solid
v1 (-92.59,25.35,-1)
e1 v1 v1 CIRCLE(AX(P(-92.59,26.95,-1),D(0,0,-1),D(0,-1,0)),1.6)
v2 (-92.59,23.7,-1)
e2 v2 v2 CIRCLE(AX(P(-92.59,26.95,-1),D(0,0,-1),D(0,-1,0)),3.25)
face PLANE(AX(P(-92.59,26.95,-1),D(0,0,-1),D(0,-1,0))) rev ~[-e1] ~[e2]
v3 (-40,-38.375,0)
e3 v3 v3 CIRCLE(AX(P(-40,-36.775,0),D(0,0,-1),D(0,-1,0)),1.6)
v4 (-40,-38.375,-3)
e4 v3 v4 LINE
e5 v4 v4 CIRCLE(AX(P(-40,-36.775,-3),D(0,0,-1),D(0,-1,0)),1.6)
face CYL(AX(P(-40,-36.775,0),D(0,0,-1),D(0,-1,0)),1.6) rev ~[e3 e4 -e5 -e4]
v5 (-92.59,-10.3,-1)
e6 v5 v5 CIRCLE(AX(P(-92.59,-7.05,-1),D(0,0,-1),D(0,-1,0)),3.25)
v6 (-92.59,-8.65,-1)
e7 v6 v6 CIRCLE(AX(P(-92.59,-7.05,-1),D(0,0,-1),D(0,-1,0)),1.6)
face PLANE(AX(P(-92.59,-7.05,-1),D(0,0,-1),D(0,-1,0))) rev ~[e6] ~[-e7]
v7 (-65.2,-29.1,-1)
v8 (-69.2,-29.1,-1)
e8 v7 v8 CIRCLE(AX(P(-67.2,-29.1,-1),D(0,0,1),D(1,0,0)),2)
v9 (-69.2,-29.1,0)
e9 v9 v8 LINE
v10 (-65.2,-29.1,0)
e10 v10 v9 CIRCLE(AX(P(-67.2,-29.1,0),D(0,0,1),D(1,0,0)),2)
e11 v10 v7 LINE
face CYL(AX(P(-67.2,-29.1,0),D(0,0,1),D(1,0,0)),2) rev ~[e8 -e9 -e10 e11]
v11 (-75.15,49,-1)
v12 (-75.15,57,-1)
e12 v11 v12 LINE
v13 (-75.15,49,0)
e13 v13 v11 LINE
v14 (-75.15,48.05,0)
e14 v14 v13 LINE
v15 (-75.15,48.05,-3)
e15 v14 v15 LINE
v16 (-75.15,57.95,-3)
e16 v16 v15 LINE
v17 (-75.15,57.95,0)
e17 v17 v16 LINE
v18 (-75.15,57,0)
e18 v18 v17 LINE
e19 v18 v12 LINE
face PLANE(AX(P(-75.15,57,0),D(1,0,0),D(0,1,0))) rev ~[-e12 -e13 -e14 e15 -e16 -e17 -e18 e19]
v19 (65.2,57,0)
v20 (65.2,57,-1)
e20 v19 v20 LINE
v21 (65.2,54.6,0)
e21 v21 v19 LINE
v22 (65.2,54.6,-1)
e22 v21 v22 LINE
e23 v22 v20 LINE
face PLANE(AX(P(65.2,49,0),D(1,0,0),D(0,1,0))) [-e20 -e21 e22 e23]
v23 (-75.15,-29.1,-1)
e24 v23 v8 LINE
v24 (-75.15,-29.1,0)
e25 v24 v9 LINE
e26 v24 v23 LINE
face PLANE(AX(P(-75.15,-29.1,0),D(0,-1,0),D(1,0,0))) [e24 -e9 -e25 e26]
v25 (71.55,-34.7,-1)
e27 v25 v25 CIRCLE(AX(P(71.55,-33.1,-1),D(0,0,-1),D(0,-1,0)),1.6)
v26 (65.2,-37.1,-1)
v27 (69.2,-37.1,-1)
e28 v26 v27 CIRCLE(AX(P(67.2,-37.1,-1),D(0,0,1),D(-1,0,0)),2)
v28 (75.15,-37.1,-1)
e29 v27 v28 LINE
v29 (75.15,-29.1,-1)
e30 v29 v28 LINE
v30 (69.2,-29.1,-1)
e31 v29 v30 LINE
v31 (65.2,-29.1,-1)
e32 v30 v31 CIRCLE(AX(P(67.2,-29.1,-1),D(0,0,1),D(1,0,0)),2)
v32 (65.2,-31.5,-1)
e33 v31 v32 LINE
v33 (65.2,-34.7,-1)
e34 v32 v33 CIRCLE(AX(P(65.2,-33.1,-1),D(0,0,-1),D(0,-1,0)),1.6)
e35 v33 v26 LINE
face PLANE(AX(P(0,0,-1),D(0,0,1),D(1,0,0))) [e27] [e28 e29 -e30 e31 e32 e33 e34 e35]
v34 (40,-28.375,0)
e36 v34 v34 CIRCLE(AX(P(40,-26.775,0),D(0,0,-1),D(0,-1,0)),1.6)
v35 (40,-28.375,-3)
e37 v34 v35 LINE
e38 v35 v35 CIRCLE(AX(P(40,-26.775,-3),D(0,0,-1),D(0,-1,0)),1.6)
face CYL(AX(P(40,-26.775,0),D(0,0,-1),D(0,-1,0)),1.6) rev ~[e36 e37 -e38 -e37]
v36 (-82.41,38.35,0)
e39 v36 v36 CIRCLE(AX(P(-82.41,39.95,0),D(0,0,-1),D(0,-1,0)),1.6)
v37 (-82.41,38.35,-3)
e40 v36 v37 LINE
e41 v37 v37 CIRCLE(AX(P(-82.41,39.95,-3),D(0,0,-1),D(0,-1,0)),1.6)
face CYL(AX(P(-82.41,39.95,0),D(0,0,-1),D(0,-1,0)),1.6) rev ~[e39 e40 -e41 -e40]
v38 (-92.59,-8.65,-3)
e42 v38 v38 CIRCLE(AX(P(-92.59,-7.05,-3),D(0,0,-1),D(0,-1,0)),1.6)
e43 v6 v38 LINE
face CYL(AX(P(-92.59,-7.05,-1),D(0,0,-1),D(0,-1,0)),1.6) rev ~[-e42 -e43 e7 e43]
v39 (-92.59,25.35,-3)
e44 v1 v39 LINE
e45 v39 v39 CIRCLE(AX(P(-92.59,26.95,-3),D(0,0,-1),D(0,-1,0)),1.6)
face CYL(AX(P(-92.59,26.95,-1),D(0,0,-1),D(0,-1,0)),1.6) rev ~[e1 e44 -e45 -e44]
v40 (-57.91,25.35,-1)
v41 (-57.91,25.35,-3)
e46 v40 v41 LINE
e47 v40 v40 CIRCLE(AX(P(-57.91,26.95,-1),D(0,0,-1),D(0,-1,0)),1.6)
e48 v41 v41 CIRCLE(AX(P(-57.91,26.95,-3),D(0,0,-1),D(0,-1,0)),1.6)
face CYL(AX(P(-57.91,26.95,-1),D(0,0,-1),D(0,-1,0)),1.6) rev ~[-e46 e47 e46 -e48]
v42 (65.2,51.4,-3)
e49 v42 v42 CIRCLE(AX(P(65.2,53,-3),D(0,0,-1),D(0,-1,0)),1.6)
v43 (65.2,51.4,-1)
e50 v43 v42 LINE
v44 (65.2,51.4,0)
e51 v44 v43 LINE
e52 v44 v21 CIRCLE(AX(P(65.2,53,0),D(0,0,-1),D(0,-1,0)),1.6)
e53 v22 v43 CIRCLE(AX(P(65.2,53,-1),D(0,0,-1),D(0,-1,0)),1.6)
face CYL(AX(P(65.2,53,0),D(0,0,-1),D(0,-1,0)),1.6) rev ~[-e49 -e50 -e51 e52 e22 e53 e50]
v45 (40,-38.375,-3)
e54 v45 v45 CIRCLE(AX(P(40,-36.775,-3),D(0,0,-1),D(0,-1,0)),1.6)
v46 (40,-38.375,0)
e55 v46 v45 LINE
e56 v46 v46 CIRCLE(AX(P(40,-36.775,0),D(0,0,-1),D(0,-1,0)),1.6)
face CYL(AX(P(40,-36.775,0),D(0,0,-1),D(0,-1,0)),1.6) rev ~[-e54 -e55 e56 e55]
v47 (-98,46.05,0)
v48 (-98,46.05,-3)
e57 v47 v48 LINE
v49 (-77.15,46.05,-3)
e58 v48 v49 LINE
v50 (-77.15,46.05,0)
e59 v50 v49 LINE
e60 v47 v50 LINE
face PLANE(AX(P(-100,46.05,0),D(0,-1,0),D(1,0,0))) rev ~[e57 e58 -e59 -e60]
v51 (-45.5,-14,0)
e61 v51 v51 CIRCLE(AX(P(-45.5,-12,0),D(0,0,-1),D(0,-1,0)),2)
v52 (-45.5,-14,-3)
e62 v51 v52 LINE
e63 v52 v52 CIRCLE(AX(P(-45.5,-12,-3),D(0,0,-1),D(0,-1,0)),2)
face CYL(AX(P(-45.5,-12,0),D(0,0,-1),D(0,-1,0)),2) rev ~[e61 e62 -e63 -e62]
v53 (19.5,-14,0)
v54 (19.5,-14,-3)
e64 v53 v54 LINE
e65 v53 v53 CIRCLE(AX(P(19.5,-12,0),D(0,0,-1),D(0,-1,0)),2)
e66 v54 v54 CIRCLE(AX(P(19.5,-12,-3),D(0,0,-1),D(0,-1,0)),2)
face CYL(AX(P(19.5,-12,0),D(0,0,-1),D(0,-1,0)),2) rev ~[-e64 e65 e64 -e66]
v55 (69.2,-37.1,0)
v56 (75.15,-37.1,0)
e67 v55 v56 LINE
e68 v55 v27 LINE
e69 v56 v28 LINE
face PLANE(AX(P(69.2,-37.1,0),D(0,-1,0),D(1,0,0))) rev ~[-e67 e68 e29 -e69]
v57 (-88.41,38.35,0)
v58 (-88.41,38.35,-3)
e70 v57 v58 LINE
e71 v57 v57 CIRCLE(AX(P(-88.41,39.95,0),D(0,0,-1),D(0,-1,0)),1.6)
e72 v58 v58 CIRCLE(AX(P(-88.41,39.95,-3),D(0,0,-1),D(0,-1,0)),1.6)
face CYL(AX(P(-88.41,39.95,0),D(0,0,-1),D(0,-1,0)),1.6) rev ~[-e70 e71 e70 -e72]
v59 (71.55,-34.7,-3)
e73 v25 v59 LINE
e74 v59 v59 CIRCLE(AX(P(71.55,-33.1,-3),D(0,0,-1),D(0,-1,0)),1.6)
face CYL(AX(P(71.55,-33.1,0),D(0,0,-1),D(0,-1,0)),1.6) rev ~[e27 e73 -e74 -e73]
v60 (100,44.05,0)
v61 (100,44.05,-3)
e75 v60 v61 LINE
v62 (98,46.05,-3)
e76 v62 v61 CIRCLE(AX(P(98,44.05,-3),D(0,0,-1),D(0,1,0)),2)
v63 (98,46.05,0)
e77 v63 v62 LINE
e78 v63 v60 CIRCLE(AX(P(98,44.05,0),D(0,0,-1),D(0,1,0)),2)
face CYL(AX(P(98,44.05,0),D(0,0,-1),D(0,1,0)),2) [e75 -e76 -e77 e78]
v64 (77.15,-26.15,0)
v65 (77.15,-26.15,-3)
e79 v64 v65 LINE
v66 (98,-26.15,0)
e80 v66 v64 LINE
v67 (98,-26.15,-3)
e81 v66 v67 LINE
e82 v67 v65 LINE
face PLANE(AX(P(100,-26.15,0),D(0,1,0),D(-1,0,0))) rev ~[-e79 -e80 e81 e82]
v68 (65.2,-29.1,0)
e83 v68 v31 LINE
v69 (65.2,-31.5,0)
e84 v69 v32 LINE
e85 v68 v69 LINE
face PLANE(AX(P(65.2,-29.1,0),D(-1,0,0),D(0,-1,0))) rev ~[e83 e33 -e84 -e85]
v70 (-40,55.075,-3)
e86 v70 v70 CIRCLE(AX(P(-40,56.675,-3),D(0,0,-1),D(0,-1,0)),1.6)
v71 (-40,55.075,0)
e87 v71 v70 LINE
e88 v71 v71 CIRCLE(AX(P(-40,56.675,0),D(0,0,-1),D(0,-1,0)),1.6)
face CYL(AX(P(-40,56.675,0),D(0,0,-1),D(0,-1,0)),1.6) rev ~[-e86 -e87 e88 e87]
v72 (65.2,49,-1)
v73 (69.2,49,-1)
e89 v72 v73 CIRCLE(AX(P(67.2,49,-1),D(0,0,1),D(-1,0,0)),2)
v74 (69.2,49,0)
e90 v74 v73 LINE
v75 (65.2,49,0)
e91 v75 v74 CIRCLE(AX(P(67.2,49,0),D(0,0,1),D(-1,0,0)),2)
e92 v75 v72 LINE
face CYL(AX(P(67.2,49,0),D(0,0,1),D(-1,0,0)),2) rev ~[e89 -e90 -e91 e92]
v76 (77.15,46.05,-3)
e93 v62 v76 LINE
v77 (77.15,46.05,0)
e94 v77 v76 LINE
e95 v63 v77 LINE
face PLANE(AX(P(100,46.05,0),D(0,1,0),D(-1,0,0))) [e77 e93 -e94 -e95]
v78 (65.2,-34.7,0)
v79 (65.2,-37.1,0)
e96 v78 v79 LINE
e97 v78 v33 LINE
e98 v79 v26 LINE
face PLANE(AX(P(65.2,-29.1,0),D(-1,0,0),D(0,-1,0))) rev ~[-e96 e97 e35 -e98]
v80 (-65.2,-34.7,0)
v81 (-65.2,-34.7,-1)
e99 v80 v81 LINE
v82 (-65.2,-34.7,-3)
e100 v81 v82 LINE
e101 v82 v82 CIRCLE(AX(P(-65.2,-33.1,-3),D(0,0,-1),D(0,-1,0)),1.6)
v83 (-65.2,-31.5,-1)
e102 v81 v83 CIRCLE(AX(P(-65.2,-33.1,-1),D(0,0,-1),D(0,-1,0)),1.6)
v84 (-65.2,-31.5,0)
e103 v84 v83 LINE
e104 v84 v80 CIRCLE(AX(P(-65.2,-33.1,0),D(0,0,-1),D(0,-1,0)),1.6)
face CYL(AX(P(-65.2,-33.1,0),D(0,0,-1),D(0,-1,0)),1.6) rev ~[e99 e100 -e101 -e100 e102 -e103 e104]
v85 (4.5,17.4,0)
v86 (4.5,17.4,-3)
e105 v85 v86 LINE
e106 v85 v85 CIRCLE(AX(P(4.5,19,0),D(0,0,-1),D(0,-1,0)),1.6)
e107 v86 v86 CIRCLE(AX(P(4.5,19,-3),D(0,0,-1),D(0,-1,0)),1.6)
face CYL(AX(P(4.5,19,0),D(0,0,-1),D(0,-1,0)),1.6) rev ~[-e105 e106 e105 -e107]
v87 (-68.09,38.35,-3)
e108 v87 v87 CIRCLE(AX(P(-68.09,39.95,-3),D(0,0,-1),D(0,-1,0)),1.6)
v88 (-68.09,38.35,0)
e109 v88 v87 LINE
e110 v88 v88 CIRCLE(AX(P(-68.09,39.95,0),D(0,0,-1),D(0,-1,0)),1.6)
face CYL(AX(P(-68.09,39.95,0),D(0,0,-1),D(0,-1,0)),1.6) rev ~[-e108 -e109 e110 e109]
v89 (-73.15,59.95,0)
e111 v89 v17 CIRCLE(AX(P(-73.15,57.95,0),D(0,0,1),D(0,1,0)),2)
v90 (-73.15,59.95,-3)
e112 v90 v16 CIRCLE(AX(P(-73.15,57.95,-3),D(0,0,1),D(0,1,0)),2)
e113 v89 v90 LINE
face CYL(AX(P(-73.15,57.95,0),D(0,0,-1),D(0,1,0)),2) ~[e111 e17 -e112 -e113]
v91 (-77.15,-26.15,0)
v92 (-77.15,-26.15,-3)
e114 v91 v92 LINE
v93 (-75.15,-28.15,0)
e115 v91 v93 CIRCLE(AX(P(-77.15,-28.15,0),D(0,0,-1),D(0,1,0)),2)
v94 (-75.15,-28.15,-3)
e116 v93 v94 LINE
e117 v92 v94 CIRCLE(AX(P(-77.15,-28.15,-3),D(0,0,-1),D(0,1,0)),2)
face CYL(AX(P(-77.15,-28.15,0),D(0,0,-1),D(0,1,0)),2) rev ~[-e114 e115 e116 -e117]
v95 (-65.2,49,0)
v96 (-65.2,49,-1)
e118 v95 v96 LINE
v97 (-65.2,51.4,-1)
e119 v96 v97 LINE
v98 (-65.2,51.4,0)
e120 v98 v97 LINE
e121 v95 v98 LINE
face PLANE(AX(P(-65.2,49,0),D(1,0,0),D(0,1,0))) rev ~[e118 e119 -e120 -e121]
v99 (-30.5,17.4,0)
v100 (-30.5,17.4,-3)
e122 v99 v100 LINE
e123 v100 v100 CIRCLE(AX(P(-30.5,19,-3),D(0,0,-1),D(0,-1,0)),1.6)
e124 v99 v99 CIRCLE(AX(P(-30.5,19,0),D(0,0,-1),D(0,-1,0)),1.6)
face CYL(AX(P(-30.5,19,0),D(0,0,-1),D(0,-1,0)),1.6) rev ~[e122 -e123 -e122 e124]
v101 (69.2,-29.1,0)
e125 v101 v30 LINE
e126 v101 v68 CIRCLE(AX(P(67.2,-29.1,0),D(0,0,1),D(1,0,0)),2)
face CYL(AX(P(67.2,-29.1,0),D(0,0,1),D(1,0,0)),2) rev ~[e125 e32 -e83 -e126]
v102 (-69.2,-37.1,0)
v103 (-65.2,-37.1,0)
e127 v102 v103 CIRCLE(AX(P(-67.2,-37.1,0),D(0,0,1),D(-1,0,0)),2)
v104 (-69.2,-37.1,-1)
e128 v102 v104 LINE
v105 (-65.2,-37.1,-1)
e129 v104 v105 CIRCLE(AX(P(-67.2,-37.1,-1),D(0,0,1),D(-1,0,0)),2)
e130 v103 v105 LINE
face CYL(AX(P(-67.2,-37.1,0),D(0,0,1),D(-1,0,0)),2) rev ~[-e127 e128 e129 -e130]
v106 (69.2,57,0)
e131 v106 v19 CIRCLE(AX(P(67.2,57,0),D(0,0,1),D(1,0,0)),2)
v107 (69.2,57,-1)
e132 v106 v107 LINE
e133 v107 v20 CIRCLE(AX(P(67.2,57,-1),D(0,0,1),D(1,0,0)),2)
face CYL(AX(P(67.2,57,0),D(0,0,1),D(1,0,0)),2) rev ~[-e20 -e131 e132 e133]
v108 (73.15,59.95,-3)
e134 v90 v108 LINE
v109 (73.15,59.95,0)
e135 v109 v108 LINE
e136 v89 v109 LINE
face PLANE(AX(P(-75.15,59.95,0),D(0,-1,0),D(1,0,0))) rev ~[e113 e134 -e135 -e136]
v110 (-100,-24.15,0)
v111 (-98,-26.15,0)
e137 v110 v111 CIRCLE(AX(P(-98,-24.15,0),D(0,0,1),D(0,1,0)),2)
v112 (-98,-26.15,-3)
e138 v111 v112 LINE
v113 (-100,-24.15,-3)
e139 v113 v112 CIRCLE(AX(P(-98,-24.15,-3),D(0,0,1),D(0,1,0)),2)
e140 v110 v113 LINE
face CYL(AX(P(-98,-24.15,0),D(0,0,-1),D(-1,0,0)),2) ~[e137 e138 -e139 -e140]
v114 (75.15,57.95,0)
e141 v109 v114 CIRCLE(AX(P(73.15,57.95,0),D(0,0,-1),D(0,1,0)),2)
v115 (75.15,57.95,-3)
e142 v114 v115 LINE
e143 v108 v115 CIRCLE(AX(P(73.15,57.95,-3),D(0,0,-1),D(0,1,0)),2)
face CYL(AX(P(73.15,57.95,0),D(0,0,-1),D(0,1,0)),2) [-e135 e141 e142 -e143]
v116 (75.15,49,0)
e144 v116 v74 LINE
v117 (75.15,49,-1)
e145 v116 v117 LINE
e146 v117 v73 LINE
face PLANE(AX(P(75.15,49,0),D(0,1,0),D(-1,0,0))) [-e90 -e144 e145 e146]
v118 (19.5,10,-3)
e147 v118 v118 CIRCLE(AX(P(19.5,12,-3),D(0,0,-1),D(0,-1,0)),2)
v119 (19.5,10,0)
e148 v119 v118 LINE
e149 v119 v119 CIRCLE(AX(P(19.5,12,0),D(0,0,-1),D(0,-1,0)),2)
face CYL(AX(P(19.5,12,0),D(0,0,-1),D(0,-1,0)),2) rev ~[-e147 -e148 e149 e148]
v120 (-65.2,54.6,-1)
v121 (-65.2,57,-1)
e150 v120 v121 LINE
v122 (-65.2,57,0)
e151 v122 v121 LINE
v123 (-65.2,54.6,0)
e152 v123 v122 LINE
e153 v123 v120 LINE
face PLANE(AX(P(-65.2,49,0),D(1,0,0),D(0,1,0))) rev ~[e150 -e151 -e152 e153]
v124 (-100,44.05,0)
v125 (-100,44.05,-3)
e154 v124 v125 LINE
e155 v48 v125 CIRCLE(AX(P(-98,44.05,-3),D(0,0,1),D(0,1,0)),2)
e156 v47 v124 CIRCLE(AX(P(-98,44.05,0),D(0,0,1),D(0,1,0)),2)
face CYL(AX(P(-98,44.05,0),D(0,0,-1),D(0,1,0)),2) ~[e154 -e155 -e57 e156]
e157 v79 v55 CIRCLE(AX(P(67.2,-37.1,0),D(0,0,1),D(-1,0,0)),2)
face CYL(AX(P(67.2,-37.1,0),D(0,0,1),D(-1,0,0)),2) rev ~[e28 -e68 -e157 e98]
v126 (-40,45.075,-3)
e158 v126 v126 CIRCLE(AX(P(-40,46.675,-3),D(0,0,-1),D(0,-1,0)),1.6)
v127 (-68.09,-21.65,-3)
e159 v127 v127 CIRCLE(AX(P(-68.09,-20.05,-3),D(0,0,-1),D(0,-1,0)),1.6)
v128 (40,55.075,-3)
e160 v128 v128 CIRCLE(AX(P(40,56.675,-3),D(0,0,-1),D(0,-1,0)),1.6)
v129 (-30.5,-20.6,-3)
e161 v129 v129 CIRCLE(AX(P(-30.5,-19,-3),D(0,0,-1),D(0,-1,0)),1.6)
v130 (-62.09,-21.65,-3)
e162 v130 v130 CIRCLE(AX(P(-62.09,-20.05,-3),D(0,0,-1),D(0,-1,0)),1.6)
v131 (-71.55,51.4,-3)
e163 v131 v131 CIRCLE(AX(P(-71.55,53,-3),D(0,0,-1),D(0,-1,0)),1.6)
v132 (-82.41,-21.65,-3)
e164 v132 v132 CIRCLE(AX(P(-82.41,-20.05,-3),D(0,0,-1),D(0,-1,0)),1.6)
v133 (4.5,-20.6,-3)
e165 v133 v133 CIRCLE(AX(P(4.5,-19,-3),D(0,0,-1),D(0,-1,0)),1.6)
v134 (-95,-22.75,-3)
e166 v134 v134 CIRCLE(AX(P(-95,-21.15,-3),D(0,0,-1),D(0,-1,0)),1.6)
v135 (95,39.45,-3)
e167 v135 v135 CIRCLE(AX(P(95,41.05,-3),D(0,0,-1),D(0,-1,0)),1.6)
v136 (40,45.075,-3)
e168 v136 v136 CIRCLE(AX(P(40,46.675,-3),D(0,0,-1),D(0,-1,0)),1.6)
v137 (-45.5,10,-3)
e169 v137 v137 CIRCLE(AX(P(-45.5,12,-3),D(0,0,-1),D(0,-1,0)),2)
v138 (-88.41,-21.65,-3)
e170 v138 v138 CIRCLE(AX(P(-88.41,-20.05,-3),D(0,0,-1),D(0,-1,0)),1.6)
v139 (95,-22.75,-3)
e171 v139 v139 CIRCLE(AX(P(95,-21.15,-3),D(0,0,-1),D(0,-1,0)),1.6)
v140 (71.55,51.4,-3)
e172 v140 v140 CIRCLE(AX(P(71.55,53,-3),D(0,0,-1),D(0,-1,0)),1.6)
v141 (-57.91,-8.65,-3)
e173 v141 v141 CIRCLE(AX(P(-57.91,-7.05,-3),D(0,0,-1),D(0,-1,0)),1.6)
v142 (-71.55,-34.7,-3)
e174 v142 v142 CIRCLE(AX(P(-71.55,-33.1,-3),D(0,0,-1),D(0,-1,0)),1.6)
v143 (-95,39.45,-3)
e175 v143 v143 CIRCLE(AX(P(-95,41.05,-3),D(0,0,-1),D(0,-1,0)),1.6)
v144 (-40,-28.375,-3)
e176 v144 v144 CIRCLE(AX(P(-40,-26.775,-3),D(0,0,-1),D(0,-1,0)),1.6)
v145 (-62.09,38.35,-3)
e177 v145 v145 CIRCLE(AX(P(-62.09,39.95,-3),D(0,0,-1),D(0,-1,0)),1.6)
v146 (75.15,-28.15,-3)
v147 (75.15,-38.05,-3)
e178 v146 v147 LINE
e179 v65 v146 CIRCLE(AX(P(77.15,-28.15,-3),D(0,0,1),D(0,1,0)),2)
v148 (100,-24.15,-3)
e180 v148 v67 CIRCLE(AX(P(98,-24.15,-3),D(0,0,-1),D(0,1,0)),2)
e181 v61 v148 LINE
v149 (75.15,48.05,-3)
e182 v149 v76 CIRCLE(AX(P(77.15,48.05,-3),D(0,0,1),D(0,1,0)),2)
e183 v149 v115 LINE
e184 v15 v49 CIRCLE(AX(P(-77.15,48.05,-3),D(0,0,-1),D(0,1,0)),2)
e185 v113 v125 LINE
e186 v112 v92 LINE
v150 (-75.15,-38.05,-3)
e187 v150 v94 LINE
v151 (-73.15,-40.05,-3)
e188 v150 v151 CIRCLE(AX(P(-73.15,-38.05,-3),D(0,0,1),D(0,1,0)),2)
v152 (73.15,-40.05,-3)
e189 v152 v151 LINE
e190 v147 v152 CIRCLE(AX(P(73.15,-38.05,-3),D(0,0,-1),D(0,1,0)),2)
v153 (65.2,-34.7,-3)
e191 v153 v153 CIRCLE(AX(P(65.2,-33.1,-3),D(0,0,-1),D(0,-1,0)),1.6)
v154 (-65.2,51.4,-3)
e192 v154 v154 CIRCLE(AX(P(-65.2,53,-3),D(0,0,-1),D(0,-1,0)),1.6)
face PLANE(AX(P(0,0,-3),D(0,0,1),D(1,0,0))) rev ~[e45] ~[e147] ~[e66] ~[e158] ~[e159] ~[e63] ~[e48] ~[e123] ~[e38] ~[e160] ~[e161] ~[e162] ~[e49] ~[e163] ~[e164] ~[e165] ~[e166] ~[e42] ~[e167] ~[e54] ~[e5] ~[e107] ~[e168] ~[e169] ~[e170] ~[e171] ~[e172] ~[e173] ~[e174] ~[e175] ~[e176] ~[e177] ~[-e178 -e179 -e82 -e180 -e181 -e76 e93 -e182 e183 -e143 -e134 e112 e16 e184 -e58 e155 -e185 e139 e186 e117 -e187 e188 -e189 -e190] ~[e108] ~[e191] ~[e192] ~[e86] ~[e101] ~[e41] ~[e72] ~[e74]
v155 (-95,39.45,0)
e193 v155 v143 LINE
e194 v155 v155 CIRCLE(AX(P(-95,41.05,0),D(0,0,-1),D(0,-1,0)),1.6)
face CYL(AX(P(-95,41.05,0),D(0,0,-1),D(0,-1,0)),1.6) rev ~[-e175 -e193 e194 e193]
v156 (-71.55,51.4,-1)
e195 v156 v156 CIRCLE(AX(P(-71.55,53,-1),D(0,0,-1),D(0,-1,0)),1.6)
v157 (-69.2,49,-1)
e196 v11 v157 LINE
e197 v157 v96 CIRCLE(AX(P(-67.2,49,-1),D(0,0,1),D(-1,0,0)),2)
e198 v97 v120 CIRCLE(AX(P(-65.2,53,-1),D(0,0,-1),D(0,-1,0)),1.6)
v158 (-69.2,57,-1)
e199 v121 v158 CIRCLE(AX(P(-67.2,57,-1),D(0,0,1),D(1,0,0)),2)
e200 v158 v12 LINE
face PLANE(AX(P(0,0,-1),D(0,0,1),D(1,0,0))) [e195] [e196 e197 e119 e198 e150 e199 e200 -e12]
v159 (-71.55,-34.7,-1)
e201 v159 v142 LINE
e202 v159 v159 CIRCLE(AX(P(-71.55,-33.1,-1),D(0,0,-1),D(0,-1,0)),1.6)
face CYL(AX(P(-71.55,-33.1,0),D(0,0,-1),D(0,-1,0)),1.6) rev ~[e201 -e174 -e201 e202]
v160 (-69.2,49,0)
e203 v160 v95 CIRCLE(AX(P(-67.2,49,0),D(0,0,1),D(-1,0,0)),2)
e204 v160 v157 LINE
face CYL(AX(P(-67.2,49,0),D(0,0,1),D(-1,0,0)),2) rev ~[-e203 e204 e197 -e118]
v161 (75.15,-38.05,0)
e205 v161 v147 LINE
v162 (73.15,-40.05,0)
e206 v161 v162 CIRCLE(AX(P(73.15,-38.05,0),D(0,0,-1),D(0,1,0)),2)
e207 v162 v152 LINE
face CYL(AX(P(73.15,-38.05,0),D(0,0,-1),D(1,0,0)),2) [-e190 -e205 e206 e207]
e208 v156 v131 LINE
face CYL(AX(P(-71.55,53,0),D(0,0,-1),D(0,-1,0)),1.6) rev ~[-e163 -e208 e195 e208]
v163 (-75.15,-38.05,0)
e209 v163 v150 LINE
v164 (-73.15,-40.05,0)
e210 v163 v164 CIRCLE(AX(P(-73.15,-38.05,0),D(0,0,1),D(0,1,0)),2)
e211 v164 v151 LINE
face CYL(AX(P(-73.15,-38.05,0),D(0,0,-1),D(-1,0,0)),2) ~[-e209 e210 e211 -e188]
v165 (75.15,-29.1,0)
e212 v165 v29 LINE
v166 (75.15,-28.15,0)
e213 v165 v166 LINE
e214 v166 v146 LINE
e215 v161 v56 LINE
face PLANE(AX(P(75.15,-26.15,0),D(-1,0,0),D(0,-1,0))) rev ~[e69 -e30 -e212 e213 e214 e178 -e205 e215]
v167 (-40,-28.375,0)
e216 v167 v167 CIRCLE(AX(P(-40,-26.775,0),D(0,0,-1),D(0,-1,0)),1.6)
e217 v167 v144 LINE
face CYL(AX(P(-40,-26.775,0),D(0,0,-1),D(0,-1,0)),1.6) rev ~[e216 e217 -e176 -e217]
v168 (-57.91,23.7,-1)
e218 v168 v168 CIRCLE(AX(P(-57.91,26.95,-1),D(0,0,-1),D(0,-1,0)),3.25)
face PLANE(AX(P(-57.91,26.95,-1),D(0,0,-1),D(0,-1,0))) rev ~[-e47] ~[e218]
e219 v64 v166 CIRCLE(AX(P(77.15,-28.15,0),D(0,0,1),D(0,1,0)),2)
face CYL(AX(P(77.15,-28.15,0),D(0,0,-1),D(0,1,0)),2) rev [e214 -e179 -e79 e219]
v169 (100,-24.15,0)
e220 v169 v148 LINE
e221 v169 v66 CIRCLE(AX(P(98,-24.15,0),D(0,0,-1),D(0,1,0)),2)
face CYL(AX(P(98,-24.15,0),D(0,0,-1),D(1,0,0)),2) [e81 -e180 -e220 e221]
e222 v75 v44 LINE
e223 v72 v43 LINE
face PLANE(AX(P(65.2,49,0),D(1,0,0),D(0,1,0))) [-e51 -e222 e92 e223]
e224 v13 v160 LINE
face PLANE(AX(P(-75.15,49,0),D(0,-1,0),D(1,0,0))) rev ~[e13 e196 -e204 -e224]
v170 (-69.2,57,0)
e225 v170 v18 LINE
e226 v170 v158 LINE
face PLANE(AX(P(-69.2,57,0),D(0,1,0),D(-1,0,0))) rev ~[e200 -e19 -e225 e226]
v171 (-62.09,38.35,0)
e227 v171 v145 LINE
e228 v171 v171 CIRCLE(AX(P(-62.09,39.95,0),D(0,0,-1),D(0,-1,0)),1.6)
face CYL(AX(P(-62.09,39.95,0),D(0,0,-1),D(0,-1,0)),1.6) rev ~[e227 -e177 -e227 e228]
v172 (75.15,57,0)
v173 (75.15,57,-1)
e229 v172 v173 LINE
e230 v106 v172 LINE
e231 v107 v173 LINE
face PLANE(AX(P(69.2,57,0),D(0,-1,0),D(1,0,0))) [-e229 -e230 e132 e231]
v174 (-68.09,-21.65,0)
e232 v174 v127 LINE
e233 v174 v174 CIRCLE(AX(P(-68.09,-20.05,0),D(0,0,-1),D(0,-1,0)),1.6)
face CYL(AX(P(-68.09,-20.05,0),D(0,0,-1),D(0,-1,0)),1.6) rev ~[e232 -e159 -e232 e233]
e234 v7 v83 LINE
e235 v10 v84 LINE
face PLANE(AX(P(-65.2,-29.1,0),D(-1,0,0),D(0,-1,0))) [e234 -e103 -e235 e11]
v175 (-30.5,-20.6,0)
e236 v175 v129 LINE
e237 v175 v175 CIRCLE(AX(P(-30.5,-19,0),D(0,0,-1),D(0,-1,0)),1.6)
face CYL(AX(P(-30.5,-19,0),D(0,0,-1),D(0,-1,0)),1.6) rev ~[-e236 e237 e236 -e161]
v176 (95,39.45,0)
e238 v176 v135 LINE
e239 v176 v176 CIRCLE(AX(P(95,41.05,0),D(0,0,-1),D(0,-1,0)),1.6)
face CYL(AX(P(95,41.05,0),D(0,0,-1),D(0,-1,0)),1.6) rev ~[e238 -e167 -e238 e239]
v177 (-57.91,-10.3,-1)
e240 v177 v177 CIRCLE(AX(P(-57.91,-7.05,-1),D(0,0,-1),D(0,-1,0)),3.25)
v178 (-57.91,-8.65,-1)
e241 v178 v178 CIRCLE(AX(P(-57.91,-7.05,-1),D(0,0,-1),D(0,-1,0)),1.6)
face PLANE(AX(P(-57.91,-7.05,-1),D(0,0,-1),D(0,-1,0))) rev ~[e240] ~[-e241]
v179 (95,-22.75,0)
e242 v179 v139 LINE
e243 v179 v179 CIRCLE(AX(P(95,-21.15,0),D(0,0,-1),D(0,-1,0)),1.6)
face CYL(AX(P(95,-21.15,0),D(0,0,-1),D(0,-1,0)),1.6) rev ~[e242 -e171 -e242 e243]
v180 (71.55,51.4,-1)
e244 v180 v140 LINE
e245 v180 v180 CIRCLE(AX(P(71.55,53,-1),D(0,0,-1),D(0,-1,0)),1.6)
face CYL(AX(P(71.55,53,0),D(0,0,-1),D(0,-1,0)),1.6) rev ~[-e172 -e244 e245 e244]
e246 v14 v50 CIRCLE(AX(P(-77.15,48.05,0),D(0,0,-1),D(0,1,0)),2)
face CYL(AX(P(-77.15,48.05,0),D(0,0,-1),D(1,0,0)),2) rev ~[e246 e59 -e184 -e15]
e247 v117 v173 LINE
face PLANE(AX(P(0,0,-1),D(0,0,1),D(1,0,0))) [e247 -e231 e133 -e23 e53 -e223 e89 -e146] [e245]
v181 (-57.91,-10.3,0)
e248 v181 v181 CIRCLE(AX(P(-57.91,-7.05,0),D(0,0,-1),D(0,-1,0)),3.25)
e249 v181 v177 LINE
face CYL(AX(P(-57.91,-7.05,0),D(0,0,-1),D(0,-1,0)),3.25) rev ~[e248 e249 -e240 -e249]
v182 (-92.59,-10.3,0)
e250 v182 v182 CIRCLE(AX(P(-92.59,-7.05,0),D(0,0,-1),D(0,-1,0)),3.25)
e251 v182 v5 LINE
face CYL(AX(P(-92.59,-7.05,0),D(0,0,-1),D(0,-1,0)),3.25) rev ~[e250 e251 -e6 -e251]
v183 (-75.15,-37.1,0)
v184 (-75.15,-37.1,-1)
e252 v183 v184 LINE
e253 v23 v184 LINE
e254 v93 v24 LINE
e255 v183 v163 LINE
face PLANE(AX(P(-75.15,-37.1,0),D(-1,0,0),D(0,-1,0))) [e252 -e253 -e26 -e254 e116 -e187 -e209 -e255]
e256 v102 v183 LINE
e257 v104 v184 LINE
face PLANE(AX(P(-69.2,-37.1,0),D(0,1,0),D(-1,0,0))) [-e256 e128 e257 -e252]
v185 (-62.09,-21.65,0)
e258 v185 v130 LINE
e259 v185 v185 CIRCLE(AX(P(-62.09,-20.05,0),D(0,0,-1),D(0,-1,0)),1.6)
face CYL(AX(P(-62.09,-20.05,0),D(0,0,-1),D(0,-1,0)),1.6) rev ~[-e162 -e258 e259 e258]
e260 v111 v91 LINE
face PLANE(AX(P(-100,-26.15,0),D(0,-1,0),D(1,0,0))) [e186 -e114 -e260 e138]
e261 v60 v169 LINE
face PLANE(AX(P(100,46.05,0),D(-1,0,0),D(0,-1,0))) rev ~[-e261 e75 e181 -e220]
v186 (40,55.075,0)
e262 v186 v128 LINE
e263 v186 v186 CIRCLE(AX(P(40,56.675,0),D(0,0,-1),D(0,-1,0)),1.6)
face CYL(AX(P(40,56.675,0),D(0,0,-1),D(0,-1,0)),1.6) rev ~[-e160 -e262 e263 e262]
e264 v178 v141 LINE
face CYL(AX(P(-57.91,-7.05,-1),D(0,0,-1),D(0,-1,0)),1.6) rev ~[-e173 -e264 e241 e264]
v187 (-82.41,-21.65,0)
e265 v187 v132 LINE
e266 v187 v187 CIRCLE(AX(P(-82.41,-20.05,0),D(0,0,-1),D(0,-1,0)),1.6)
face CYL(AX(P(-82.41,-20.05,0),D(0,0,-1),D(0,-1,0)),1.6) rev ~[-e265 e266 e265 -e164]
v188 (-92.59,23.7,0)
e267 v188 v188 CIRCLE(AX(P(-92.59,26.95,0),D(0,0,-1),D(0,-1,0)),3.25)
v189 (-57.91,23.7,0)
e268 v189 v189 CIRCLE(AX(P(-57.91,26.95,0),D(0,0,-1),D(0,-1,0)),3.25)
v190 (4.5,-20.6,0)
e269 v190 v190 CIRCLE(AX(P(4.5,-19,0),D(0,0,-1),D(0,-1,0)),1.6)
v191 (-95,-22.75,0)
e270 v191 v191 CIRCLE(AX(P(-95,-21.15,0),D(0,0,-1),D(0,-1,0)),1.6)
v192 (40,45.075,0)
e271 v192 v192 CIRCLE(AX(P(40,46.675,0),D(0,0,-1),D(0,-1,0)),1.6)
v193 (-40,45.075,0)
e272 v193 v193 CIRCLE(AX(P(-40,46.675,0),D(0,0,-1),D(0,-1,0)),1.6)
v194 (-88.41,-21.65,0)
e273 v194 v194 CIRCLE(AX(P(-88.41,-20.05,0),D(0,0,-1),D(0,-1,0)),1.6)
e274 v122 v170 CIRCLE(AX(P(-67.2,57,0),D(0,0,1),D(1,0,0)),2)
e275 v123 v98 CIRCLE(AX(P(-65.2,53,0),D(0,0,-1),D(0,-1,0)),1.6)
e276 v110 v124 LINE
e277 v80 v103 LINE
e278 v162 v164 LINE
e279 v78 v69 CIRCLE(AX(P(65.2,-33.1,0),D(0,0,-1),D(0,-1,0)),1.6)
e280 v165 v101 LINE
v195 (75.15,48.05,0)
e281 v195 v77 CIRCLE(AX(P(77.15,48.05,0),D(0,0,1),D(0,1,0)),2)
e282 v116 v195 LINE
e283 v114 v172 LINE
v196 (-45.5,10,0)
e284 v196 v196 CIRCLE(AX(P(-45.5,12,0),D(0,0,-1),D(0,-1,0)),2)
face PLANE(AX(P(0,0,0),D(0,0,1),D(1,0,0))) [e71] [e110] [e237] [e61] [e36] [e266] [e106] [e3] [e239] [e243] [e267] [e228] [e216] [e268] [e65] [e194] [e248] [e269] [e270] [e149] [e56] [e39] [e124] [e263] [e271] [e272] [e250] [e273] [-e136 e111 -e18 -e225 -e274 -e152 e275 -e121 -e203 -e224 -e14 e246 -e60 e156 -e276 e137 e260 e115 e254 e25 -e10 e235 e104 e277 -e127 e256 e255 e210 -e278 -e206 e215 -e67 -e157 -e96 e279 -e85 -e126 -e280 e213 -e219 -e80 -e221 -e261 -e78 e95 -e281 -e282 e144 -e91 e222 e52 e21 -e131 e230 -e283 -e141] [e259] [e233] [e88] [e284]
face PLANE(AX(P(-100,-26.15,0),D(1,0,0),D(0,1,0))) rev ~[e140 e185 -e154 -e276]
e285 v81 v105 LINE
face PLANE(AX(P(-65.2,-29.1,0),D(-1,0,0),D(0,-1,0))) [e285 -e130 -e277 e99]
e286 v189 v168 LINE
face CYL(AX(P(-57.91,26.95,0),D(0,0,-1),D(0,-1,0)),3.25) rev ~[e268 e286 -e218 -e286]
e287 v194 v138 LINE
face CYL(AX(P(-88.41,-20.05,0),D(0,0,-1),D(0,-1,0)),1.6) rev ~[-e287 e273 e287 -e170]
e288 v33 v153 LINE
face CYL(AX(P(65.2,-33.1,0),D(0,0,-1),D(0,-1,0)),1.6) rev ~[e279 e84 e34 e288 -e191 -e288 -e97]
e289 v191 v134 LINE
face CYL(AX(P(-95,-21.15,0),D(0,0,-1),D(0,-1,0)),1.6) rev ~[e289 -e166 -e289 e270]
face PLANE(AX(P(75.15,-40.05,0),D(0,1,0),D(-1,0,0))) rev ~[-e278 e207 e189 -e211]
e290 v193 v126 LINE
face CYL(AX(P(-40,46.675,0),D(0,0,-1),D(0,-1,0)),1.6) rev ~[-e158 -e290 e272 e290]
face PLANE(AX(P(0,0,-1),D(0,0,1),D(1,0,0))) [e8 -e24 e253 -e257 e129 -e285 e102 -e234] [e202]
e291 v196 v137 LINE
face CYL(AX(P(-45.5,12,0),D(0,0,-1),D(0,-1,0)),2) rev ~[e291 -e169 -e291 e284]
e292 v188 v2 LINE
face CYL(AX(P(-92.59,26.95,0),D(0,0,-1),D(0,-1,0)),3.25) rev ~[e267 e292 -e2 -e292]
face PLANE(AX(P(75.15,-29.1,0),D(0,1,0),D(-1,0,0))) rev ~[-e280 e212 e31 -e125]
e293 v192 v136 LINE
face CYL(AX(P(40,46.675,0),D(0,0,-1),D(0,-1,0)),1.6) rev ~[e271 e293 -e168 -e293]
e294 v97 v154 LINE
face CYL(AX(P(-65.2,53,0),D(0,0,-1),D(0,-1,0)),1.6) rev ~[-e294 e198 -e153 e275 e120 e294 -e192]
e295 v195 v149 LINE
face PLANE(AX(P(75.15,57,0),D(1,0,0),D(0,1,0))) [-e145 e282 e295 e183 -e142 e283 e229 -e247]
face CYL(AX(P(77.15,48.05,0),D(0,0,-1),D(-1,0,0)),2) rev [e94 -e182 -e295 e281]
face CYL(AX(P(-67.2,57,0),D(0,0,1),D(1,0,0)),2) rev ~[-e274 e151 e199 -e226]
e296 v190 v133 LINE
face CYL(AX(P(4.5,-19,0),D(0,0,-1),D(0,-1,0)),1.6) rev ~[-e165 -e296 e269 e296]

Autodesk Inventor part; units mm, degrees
ref_plane "YZ Plane" through (0, 0, 0) normal (1, 0, 0) x (0, 1, 0)
ref_plane "XZ Plane" through (0, 0, 0) normal (0, 1, 0) x (-1, 0, 0)
ref_plane "XY Plane" through (0, 0, 0) normal (0, 0, 1) x (1, 0, 0)
sketch "Sketch1" plane through (0, 0, 0) normal (0, 0, 1) x (1, 0, 0)
  line L0 (-100, 59.95) -> (100, 59.95)
  line L1 (100, 59.95) -> (100, -40.05)
  line L2 (100, -40.05) -> (-100, -40.05)
  line L3 (-100, -40.05) -> (-100, 59.95)
  line L4 (-100, 59.95) -> (100, -40.05) construction
  line L5 (100, 59.95) -> (-100, -40.05) construction
  line L6 (0, -40.05) -> (0, 59.95) construction
  line L7 (-100, 9.95) -> (100, 9.95) construction
  line L8 (-100, 0) -> (100, 0) construction
  line L9 (-44, -22.5) -> (18, -22.5) construction
  line L10 (18, -22.5) -> (18, 22.5) construction
  line L11 (18, 22.5) -> (-44, 22.5) construction
  line L12 (-44, 22.5) -> (-44, -22.5) construction
  line L13 (-44, -22.5) -> (18, 22.5) construction
  line L14 (18, -22.5) -> (-44, 22.5) construction
  line L15 (13, -22.5) -> (13, 22.5) construction
  line L16 (4.5, -19) -> (4.5, 19) construction
  line L17 (-13, -22.5) -> (-13, 22.5) construction
  line L18 (-39, -22.5) -> (-39, 22.5) construction
  line L19 (100, 46.05) -> (75.15, 46.05)
  line L20 (75.15, 46.05) -> (75.15, 59.95)
  line L21 (65.2, 49.05) -> (97, 49.05) construction
  line L22 (97, 49.05) -> (97, 56.95) construction
  line L23 (97, 56.95) -> (65.2, 56.95) construction
  line L24 (65.2, 56.95) -> (65.2, 49.05) construction
  line L25 (65.2, 49.05) -> (97, 56.95) construction
  line L26 (97, 49.05) -> (65.2, 56.95) construction
  line L27 (65.2, 53) -> (97, 53) construction
  line L28 (81.1, 49.05) -> (81.1, 56.95) construction
  circle A0 centre (71.55, 53) radius 1.6 construction
  circle A1 centre (65.2, 53) radius 1.6 construction
  line L29 (100, -26.15) -> (75.15, -26.15)
  line L30 (75.15, -26.15) -> (75.15, -40.05)
  line L31 (-100, 46.05) -> (-75.15, 46.05)
  line L32 (-75.15, 46.05) -> (-75.15, 59.95)
  line L33 (-75.15, -26.15) -> (-75.15, -40.05)
  line L34 (-100, -26.15) -> (-75.15, -26.15)
  line L35 (13, -12) -> (18, -12) construction
  line L36 (13, 12) -> (18, 12) construction
  circle A2 centre (95, 41.05) radius 5 construction
  circle A3 centre (95, 41.05) radius 2 construction
  circle A4 centre (95, -21.15) radius 5 construction
  circle A5 centre (95, -21.15) radius 2 construction
  circle A6 centre (-95, 41.05) radius 5 construction
  circle A7 centre (-95, 41.05) radius 2 construction
  circle A8 centre (-95, -21.15) radius 2 construction
  circle A9 centre (-95, -21.15) radius 5 construction
  line L37 (-53.66, -15.05) -> (-96.84, -15.05) construction
  line L38 (-96.84, -15.05) -> (-96.84, 34.95) construction
  line L39 (-96.84, 34.95) -> (-53.66, 34.95) construction
  line L40 (-53.66, 34.95) -> (-53.66, -15.05) construction
  line L41 (-53.66, -15.05) -> (-96.84, 34.95) construction
  line L42 (-96.84, -15.05) -> (-53.66, 34.95) construction
  line L43 (-75.25, -15.05) -> (-75.25, 34.95) construction
  line L44 (-57.91, -7.05) -> (-92.59, -7.05) construction
  line L45 (-92.59, -7.05) -> (-92.59, 26.95) construction
  line L46 (-92.59, 26.95) -> (-57.91, 26.95) construction
  line L47 (-57.91, 26.95) -> (-57.91, -7.05) construction
  line L48 (-57.91, -7.05) -> (-92.59, 26.95) construction
  line L49 (-92.59, -7.05) -> (-57.91, 26.95) construction
  line L50 (22, 23.5) -> (-50.5, 23.5) construction
  line L51 (-50.5, 23.5) -> (-50.5, -23.5) construction
  line L52 (-50.5, -23.5) -> (22, -23.5) construction
  line L53 (22, -23.5) -> (22, 23.5) construction
  line L54 (22, 23.5) -> (-50.5, -23.5) construction
  line L55 (-50.5, 23.5) -> (22, -23.5) construction
  line L56 (75.15, 49) -> (65.2, 49)
  line L57 (65.2, 49) -> (65.2, 57)
  line L58 (65.2, 57) -> (75.15, 57)
  line L59 (75.15, -29.1) -> (65.2, -29.1)
  line L60 (65.2, -29.1) -> (65.2, -37.1)
  line L61 (65.2, -37.1) -> (75.15, -37.1)
  line L62 (-75.15, 49) -> (-65.2, 49)
  line L63 (-65.2, 49) -> (-65.2, 57)
  line L64 (-65.2, 57) -> (-75.15, 57)
  line L65 (-75.15, -29.1) -> (-65.2, -29.1)
  line L66 (-65.2, -29.1) -> (-65.2, -37.1)
  line L67 (-65.2, -37.1) -> (-75.15, -37.1)
  arc A10 (69.2, 57) -> (65.2, 57) centre (67.2, 57) ccw
  arc A11 (65.2, 49) -> (69.2, 49) centre (67.2, 49) ccw
  arc A12 (65.2, -37.1) -> (69.2, -37.1) centre (67.2, -37.1) ccw
  arc A13 (69.2, -29.1) -> (65.2, -29.1) centre (67.2, -29.1) ccw
  arc A14 (-65.2, 57) -> (-69.2, 57) centre (-67.2, 57) ccw
  arc A15 (-69.2, 49) -> (-65.2, 49) centre (-67.2, 49) ccw
  arc A16 (-65.2, -29.1) -> (-69.2, -29.1) centre (-67.2, -29.1) ccw
  arc A17 (-69.2, -37.1) -> (-65.2, -37.1) centre (-67.2, -37.1) ccw
  line L68 (100, -31.775) -> (-100, -31.775) construction
  line L69 (-82.41, -20.05) -> (-88.41, -20.05) construction
  line L70 (-40, -36.775) -> (-40, -26.775) construction
  circle A18 centre (54.6684, 54.95) radius 5 construction
  circle A19 centre (-88.41, -20.05) radius 1.6 construction
  point P0 (0, 0)
  point P1 (0, 9.95)
  point P2 (-13, 0)
  point P3 (-30.5, -19)
  point P4 (-30.5, 19)
  point P5 (81.1, 53)
  point P6 (90.65, 53)
  point P7 (-75.15, 59.95)
  point P8 (-75.15, -40.05)
  point P9 (75.15, -40.05)
  point P10 (65.2, -33.1)
  point P11 (71.55, -33.1)
  point P12 (-65.2, 53)
  point P13 (-71.55, 53)
  point P14 (-65.2, -33.1)
  point P15 (-71.55, -33.1)
  point P16 (19.5, -12)
  point P17 (19.5, 12)
  point P18 (-45.5, -12)
  point P19 (-45.5, 12)
  point P20 (-75.25, 9.95)
  point P21 (-14.25, 0)
  point P22 (75.15, -37.1)
  point P23 (75.15, -29.1)
  point P24 (-65.2, -30.2522)
  point P25 (-65.2, -29.1)
  point P26 (-65.2, -29.1)
  point P27 (-69.2, -29.1)
  point P28 (-69.2, -37.1)
  point P29 (-65.2, -37.1)
  point P30 (-65.2, -37.1)
  point P31 (-65.2, -35.9478)
  point P32 (-65.2, 57)
  point P33 (-65.2, 55.8478)
  point P34 (-69.2, 57)
  point P35 (-69.2, 49)
  point P36 (-65.2, 50.1522)
  point P37 (65.2, 50.1522)
  point P38 (69.2, 49)
  point P39 (69.2, -29.1)
  point P40 (65.2, -30.2522)
  point P41 (65.2, -35.9478)
  point P42 (69.2, -37.1)
  point P43 (-85.41, -20.05)
  point P44 (-40, -31.775)
  point P45 (-68.09, -20.05)
  point P46 (-62.09, -20.05)
  point P47 (-82.41, 39.95)
  point P48 (-88.41, 39.95)
  point P49 (-68.09, 39.95)
  point P50 (-62.09, 39.95)
  point P51 (40, -36.775)
  point P52 (40, -26.775)
  point P53 (-40, 56.675)
  point P54 (-40, 46.675)
  point P55 (40, 46.675)
  point P56 (40, 56.675)
  dimension "d0" = 200
  dimension "d1" = 100
  dimension "d2" = 62
  dimension "d3" = 45
  dimension "d4" = 80.1
  dimension "d5" = 5
  dimension "d7" = 38
  dimension "d8" = 35
  dimension "d9" = 31.8
  dimension "d10" = 7.9
  dimension "d11" = 19.1
  dimension "d12" = 3
  dimension "d13" = 3
  dimension "d14" = 3.2
  dimension "d15" = 2
  dimension "d27" = 87
  dimension "d28" = 24
  dimension "d29" = 1.5
  dimension "d37" = 6.95
  dimension "d38" = 4.5
  dimension "d39" = 4
  dimension "d40" = 10
  dimension "d41" = 43.18
  dimension "d42" = 50
  dimension "d43" = 8.5
  dimension "d44" = 16
  dimension "d45" = 6.5
  dimension "d46" = 4
  dimension "d47" = 1
  dimension "d48" = 0.05
  dimension "d51" = 2
  dimension "d62" = 6
  dimension "d63" = 5
  dimension "d64" = 20.32
  dimension "d65" = 10
  dimension "d67" = 80
extrude "Extrusion1" add sketch "Sketch1" against normal blind 3 contours L0 L20 L58 A10 L57 A11 L56 L19 L1 L29 L30 L59 A13 L60 A12 L61 L2 L33 L67 A17 L66 A16 L65 L34 L3 L31 L32 L62 A15 L63 A14 L64 | L64 L63 L62 L32 | L20 L56 L57 L58 | A14 L64 | L58 A10 | L62 A15 | L65 L66 L67 L33 | A11 L56 | A16 L65 | L61 L60 L59 L30 | L67 A17 | A12 L61 | L59 A13
extrude "Extrusion2" cut sketch "Sketch1" against normal blind 1 contours L64 L63 L62 L32 | L20 L56 L57 L58 | A14 L64 | L58 A10 | L62 A15 | L65 L66 L67 L33 | A11 L56 | A16 L65 | L61 L60 L59 L30 | L67 A17 | A12 L61 | L59 A13
hole "Phi3.2" at (4.5, -19, 0) at (4.5, 19, 0) at (-30.5, -19, 0) at (-30.5, 19, 0) at (65.2, 53, 0) at (71.55, 53, 0) at (90.65, 53, 0) at (65.2, -33.1, 0) at (71.55, -33.1, 0) at (-71.55, -33.1, 0) at (-65.2, -33.1, 0) at (-65.2, 53, 0) at (-71.55, 53, 0) at (95, -21.15, 0) at (95, 41.05, 0) at (-95, 41.05, 0) at (-95, -21.15, 0) at (-88.41, -20.05, 0) at (-82.41, -20.05, 0) at (-40, -26.775, 0) at (-40, -36.775, 0) at (-68.09, -20.05, 0) at (-62.09, -20.05, 0) at (-88.41, 39.95, 0) at (-82.41, 39.95, 0) at (-68.09, 39.95, 0) at (-62.09, 39.95, 0) at (40, -26.775, 0) at (40, -36.775, 0) at (40, 46.675, 0) at (40, 56.675, 0) at (-40, 56.675, 0) at (-40, 46.675, 0) direction (0, 0, -1) diameter 3.2 end through all
hole "Phi4.0" at (19.5, -12, 0) at (19.5, 12, 0) at (-45.5, -12, 0) at (-45.5, 12, 0) direction (0, 0, -1) diameter 4 end through all
hole "Phi6.5-3.2" at (-57.91, -7.05, 0) at (-57.91, 26.95, 0) at (-92.59, 26.95, 0) at (-92.59, -7.05, 0) direction (0, 0, -1) diameter 3.2 end through all counterbore diameter 6.5 counterbore depth 1
fillet "R2" radius 2 12 edges at (100, 46.05, -1.5) (100, -26.15, -1.5) (75.15, -40.05, -1.5) (75.15, -26.15, -1.5) (75.15, 46.05, -1.5) (75.15, 59.95, -1.5) (-75.15, 59.95, -1.5) (-75.15, 46.05, -1.5) (-100, 46.05, -1.5) (-100, -26.15, -1.5) (-75.15, -26.15, -1.5) (-75.15, -40.05, -1.5)
equation "\"d13\" = d12"
equation "\"d19\" = d14"
properties part number "FootSoleFrame" material "CFRP"
